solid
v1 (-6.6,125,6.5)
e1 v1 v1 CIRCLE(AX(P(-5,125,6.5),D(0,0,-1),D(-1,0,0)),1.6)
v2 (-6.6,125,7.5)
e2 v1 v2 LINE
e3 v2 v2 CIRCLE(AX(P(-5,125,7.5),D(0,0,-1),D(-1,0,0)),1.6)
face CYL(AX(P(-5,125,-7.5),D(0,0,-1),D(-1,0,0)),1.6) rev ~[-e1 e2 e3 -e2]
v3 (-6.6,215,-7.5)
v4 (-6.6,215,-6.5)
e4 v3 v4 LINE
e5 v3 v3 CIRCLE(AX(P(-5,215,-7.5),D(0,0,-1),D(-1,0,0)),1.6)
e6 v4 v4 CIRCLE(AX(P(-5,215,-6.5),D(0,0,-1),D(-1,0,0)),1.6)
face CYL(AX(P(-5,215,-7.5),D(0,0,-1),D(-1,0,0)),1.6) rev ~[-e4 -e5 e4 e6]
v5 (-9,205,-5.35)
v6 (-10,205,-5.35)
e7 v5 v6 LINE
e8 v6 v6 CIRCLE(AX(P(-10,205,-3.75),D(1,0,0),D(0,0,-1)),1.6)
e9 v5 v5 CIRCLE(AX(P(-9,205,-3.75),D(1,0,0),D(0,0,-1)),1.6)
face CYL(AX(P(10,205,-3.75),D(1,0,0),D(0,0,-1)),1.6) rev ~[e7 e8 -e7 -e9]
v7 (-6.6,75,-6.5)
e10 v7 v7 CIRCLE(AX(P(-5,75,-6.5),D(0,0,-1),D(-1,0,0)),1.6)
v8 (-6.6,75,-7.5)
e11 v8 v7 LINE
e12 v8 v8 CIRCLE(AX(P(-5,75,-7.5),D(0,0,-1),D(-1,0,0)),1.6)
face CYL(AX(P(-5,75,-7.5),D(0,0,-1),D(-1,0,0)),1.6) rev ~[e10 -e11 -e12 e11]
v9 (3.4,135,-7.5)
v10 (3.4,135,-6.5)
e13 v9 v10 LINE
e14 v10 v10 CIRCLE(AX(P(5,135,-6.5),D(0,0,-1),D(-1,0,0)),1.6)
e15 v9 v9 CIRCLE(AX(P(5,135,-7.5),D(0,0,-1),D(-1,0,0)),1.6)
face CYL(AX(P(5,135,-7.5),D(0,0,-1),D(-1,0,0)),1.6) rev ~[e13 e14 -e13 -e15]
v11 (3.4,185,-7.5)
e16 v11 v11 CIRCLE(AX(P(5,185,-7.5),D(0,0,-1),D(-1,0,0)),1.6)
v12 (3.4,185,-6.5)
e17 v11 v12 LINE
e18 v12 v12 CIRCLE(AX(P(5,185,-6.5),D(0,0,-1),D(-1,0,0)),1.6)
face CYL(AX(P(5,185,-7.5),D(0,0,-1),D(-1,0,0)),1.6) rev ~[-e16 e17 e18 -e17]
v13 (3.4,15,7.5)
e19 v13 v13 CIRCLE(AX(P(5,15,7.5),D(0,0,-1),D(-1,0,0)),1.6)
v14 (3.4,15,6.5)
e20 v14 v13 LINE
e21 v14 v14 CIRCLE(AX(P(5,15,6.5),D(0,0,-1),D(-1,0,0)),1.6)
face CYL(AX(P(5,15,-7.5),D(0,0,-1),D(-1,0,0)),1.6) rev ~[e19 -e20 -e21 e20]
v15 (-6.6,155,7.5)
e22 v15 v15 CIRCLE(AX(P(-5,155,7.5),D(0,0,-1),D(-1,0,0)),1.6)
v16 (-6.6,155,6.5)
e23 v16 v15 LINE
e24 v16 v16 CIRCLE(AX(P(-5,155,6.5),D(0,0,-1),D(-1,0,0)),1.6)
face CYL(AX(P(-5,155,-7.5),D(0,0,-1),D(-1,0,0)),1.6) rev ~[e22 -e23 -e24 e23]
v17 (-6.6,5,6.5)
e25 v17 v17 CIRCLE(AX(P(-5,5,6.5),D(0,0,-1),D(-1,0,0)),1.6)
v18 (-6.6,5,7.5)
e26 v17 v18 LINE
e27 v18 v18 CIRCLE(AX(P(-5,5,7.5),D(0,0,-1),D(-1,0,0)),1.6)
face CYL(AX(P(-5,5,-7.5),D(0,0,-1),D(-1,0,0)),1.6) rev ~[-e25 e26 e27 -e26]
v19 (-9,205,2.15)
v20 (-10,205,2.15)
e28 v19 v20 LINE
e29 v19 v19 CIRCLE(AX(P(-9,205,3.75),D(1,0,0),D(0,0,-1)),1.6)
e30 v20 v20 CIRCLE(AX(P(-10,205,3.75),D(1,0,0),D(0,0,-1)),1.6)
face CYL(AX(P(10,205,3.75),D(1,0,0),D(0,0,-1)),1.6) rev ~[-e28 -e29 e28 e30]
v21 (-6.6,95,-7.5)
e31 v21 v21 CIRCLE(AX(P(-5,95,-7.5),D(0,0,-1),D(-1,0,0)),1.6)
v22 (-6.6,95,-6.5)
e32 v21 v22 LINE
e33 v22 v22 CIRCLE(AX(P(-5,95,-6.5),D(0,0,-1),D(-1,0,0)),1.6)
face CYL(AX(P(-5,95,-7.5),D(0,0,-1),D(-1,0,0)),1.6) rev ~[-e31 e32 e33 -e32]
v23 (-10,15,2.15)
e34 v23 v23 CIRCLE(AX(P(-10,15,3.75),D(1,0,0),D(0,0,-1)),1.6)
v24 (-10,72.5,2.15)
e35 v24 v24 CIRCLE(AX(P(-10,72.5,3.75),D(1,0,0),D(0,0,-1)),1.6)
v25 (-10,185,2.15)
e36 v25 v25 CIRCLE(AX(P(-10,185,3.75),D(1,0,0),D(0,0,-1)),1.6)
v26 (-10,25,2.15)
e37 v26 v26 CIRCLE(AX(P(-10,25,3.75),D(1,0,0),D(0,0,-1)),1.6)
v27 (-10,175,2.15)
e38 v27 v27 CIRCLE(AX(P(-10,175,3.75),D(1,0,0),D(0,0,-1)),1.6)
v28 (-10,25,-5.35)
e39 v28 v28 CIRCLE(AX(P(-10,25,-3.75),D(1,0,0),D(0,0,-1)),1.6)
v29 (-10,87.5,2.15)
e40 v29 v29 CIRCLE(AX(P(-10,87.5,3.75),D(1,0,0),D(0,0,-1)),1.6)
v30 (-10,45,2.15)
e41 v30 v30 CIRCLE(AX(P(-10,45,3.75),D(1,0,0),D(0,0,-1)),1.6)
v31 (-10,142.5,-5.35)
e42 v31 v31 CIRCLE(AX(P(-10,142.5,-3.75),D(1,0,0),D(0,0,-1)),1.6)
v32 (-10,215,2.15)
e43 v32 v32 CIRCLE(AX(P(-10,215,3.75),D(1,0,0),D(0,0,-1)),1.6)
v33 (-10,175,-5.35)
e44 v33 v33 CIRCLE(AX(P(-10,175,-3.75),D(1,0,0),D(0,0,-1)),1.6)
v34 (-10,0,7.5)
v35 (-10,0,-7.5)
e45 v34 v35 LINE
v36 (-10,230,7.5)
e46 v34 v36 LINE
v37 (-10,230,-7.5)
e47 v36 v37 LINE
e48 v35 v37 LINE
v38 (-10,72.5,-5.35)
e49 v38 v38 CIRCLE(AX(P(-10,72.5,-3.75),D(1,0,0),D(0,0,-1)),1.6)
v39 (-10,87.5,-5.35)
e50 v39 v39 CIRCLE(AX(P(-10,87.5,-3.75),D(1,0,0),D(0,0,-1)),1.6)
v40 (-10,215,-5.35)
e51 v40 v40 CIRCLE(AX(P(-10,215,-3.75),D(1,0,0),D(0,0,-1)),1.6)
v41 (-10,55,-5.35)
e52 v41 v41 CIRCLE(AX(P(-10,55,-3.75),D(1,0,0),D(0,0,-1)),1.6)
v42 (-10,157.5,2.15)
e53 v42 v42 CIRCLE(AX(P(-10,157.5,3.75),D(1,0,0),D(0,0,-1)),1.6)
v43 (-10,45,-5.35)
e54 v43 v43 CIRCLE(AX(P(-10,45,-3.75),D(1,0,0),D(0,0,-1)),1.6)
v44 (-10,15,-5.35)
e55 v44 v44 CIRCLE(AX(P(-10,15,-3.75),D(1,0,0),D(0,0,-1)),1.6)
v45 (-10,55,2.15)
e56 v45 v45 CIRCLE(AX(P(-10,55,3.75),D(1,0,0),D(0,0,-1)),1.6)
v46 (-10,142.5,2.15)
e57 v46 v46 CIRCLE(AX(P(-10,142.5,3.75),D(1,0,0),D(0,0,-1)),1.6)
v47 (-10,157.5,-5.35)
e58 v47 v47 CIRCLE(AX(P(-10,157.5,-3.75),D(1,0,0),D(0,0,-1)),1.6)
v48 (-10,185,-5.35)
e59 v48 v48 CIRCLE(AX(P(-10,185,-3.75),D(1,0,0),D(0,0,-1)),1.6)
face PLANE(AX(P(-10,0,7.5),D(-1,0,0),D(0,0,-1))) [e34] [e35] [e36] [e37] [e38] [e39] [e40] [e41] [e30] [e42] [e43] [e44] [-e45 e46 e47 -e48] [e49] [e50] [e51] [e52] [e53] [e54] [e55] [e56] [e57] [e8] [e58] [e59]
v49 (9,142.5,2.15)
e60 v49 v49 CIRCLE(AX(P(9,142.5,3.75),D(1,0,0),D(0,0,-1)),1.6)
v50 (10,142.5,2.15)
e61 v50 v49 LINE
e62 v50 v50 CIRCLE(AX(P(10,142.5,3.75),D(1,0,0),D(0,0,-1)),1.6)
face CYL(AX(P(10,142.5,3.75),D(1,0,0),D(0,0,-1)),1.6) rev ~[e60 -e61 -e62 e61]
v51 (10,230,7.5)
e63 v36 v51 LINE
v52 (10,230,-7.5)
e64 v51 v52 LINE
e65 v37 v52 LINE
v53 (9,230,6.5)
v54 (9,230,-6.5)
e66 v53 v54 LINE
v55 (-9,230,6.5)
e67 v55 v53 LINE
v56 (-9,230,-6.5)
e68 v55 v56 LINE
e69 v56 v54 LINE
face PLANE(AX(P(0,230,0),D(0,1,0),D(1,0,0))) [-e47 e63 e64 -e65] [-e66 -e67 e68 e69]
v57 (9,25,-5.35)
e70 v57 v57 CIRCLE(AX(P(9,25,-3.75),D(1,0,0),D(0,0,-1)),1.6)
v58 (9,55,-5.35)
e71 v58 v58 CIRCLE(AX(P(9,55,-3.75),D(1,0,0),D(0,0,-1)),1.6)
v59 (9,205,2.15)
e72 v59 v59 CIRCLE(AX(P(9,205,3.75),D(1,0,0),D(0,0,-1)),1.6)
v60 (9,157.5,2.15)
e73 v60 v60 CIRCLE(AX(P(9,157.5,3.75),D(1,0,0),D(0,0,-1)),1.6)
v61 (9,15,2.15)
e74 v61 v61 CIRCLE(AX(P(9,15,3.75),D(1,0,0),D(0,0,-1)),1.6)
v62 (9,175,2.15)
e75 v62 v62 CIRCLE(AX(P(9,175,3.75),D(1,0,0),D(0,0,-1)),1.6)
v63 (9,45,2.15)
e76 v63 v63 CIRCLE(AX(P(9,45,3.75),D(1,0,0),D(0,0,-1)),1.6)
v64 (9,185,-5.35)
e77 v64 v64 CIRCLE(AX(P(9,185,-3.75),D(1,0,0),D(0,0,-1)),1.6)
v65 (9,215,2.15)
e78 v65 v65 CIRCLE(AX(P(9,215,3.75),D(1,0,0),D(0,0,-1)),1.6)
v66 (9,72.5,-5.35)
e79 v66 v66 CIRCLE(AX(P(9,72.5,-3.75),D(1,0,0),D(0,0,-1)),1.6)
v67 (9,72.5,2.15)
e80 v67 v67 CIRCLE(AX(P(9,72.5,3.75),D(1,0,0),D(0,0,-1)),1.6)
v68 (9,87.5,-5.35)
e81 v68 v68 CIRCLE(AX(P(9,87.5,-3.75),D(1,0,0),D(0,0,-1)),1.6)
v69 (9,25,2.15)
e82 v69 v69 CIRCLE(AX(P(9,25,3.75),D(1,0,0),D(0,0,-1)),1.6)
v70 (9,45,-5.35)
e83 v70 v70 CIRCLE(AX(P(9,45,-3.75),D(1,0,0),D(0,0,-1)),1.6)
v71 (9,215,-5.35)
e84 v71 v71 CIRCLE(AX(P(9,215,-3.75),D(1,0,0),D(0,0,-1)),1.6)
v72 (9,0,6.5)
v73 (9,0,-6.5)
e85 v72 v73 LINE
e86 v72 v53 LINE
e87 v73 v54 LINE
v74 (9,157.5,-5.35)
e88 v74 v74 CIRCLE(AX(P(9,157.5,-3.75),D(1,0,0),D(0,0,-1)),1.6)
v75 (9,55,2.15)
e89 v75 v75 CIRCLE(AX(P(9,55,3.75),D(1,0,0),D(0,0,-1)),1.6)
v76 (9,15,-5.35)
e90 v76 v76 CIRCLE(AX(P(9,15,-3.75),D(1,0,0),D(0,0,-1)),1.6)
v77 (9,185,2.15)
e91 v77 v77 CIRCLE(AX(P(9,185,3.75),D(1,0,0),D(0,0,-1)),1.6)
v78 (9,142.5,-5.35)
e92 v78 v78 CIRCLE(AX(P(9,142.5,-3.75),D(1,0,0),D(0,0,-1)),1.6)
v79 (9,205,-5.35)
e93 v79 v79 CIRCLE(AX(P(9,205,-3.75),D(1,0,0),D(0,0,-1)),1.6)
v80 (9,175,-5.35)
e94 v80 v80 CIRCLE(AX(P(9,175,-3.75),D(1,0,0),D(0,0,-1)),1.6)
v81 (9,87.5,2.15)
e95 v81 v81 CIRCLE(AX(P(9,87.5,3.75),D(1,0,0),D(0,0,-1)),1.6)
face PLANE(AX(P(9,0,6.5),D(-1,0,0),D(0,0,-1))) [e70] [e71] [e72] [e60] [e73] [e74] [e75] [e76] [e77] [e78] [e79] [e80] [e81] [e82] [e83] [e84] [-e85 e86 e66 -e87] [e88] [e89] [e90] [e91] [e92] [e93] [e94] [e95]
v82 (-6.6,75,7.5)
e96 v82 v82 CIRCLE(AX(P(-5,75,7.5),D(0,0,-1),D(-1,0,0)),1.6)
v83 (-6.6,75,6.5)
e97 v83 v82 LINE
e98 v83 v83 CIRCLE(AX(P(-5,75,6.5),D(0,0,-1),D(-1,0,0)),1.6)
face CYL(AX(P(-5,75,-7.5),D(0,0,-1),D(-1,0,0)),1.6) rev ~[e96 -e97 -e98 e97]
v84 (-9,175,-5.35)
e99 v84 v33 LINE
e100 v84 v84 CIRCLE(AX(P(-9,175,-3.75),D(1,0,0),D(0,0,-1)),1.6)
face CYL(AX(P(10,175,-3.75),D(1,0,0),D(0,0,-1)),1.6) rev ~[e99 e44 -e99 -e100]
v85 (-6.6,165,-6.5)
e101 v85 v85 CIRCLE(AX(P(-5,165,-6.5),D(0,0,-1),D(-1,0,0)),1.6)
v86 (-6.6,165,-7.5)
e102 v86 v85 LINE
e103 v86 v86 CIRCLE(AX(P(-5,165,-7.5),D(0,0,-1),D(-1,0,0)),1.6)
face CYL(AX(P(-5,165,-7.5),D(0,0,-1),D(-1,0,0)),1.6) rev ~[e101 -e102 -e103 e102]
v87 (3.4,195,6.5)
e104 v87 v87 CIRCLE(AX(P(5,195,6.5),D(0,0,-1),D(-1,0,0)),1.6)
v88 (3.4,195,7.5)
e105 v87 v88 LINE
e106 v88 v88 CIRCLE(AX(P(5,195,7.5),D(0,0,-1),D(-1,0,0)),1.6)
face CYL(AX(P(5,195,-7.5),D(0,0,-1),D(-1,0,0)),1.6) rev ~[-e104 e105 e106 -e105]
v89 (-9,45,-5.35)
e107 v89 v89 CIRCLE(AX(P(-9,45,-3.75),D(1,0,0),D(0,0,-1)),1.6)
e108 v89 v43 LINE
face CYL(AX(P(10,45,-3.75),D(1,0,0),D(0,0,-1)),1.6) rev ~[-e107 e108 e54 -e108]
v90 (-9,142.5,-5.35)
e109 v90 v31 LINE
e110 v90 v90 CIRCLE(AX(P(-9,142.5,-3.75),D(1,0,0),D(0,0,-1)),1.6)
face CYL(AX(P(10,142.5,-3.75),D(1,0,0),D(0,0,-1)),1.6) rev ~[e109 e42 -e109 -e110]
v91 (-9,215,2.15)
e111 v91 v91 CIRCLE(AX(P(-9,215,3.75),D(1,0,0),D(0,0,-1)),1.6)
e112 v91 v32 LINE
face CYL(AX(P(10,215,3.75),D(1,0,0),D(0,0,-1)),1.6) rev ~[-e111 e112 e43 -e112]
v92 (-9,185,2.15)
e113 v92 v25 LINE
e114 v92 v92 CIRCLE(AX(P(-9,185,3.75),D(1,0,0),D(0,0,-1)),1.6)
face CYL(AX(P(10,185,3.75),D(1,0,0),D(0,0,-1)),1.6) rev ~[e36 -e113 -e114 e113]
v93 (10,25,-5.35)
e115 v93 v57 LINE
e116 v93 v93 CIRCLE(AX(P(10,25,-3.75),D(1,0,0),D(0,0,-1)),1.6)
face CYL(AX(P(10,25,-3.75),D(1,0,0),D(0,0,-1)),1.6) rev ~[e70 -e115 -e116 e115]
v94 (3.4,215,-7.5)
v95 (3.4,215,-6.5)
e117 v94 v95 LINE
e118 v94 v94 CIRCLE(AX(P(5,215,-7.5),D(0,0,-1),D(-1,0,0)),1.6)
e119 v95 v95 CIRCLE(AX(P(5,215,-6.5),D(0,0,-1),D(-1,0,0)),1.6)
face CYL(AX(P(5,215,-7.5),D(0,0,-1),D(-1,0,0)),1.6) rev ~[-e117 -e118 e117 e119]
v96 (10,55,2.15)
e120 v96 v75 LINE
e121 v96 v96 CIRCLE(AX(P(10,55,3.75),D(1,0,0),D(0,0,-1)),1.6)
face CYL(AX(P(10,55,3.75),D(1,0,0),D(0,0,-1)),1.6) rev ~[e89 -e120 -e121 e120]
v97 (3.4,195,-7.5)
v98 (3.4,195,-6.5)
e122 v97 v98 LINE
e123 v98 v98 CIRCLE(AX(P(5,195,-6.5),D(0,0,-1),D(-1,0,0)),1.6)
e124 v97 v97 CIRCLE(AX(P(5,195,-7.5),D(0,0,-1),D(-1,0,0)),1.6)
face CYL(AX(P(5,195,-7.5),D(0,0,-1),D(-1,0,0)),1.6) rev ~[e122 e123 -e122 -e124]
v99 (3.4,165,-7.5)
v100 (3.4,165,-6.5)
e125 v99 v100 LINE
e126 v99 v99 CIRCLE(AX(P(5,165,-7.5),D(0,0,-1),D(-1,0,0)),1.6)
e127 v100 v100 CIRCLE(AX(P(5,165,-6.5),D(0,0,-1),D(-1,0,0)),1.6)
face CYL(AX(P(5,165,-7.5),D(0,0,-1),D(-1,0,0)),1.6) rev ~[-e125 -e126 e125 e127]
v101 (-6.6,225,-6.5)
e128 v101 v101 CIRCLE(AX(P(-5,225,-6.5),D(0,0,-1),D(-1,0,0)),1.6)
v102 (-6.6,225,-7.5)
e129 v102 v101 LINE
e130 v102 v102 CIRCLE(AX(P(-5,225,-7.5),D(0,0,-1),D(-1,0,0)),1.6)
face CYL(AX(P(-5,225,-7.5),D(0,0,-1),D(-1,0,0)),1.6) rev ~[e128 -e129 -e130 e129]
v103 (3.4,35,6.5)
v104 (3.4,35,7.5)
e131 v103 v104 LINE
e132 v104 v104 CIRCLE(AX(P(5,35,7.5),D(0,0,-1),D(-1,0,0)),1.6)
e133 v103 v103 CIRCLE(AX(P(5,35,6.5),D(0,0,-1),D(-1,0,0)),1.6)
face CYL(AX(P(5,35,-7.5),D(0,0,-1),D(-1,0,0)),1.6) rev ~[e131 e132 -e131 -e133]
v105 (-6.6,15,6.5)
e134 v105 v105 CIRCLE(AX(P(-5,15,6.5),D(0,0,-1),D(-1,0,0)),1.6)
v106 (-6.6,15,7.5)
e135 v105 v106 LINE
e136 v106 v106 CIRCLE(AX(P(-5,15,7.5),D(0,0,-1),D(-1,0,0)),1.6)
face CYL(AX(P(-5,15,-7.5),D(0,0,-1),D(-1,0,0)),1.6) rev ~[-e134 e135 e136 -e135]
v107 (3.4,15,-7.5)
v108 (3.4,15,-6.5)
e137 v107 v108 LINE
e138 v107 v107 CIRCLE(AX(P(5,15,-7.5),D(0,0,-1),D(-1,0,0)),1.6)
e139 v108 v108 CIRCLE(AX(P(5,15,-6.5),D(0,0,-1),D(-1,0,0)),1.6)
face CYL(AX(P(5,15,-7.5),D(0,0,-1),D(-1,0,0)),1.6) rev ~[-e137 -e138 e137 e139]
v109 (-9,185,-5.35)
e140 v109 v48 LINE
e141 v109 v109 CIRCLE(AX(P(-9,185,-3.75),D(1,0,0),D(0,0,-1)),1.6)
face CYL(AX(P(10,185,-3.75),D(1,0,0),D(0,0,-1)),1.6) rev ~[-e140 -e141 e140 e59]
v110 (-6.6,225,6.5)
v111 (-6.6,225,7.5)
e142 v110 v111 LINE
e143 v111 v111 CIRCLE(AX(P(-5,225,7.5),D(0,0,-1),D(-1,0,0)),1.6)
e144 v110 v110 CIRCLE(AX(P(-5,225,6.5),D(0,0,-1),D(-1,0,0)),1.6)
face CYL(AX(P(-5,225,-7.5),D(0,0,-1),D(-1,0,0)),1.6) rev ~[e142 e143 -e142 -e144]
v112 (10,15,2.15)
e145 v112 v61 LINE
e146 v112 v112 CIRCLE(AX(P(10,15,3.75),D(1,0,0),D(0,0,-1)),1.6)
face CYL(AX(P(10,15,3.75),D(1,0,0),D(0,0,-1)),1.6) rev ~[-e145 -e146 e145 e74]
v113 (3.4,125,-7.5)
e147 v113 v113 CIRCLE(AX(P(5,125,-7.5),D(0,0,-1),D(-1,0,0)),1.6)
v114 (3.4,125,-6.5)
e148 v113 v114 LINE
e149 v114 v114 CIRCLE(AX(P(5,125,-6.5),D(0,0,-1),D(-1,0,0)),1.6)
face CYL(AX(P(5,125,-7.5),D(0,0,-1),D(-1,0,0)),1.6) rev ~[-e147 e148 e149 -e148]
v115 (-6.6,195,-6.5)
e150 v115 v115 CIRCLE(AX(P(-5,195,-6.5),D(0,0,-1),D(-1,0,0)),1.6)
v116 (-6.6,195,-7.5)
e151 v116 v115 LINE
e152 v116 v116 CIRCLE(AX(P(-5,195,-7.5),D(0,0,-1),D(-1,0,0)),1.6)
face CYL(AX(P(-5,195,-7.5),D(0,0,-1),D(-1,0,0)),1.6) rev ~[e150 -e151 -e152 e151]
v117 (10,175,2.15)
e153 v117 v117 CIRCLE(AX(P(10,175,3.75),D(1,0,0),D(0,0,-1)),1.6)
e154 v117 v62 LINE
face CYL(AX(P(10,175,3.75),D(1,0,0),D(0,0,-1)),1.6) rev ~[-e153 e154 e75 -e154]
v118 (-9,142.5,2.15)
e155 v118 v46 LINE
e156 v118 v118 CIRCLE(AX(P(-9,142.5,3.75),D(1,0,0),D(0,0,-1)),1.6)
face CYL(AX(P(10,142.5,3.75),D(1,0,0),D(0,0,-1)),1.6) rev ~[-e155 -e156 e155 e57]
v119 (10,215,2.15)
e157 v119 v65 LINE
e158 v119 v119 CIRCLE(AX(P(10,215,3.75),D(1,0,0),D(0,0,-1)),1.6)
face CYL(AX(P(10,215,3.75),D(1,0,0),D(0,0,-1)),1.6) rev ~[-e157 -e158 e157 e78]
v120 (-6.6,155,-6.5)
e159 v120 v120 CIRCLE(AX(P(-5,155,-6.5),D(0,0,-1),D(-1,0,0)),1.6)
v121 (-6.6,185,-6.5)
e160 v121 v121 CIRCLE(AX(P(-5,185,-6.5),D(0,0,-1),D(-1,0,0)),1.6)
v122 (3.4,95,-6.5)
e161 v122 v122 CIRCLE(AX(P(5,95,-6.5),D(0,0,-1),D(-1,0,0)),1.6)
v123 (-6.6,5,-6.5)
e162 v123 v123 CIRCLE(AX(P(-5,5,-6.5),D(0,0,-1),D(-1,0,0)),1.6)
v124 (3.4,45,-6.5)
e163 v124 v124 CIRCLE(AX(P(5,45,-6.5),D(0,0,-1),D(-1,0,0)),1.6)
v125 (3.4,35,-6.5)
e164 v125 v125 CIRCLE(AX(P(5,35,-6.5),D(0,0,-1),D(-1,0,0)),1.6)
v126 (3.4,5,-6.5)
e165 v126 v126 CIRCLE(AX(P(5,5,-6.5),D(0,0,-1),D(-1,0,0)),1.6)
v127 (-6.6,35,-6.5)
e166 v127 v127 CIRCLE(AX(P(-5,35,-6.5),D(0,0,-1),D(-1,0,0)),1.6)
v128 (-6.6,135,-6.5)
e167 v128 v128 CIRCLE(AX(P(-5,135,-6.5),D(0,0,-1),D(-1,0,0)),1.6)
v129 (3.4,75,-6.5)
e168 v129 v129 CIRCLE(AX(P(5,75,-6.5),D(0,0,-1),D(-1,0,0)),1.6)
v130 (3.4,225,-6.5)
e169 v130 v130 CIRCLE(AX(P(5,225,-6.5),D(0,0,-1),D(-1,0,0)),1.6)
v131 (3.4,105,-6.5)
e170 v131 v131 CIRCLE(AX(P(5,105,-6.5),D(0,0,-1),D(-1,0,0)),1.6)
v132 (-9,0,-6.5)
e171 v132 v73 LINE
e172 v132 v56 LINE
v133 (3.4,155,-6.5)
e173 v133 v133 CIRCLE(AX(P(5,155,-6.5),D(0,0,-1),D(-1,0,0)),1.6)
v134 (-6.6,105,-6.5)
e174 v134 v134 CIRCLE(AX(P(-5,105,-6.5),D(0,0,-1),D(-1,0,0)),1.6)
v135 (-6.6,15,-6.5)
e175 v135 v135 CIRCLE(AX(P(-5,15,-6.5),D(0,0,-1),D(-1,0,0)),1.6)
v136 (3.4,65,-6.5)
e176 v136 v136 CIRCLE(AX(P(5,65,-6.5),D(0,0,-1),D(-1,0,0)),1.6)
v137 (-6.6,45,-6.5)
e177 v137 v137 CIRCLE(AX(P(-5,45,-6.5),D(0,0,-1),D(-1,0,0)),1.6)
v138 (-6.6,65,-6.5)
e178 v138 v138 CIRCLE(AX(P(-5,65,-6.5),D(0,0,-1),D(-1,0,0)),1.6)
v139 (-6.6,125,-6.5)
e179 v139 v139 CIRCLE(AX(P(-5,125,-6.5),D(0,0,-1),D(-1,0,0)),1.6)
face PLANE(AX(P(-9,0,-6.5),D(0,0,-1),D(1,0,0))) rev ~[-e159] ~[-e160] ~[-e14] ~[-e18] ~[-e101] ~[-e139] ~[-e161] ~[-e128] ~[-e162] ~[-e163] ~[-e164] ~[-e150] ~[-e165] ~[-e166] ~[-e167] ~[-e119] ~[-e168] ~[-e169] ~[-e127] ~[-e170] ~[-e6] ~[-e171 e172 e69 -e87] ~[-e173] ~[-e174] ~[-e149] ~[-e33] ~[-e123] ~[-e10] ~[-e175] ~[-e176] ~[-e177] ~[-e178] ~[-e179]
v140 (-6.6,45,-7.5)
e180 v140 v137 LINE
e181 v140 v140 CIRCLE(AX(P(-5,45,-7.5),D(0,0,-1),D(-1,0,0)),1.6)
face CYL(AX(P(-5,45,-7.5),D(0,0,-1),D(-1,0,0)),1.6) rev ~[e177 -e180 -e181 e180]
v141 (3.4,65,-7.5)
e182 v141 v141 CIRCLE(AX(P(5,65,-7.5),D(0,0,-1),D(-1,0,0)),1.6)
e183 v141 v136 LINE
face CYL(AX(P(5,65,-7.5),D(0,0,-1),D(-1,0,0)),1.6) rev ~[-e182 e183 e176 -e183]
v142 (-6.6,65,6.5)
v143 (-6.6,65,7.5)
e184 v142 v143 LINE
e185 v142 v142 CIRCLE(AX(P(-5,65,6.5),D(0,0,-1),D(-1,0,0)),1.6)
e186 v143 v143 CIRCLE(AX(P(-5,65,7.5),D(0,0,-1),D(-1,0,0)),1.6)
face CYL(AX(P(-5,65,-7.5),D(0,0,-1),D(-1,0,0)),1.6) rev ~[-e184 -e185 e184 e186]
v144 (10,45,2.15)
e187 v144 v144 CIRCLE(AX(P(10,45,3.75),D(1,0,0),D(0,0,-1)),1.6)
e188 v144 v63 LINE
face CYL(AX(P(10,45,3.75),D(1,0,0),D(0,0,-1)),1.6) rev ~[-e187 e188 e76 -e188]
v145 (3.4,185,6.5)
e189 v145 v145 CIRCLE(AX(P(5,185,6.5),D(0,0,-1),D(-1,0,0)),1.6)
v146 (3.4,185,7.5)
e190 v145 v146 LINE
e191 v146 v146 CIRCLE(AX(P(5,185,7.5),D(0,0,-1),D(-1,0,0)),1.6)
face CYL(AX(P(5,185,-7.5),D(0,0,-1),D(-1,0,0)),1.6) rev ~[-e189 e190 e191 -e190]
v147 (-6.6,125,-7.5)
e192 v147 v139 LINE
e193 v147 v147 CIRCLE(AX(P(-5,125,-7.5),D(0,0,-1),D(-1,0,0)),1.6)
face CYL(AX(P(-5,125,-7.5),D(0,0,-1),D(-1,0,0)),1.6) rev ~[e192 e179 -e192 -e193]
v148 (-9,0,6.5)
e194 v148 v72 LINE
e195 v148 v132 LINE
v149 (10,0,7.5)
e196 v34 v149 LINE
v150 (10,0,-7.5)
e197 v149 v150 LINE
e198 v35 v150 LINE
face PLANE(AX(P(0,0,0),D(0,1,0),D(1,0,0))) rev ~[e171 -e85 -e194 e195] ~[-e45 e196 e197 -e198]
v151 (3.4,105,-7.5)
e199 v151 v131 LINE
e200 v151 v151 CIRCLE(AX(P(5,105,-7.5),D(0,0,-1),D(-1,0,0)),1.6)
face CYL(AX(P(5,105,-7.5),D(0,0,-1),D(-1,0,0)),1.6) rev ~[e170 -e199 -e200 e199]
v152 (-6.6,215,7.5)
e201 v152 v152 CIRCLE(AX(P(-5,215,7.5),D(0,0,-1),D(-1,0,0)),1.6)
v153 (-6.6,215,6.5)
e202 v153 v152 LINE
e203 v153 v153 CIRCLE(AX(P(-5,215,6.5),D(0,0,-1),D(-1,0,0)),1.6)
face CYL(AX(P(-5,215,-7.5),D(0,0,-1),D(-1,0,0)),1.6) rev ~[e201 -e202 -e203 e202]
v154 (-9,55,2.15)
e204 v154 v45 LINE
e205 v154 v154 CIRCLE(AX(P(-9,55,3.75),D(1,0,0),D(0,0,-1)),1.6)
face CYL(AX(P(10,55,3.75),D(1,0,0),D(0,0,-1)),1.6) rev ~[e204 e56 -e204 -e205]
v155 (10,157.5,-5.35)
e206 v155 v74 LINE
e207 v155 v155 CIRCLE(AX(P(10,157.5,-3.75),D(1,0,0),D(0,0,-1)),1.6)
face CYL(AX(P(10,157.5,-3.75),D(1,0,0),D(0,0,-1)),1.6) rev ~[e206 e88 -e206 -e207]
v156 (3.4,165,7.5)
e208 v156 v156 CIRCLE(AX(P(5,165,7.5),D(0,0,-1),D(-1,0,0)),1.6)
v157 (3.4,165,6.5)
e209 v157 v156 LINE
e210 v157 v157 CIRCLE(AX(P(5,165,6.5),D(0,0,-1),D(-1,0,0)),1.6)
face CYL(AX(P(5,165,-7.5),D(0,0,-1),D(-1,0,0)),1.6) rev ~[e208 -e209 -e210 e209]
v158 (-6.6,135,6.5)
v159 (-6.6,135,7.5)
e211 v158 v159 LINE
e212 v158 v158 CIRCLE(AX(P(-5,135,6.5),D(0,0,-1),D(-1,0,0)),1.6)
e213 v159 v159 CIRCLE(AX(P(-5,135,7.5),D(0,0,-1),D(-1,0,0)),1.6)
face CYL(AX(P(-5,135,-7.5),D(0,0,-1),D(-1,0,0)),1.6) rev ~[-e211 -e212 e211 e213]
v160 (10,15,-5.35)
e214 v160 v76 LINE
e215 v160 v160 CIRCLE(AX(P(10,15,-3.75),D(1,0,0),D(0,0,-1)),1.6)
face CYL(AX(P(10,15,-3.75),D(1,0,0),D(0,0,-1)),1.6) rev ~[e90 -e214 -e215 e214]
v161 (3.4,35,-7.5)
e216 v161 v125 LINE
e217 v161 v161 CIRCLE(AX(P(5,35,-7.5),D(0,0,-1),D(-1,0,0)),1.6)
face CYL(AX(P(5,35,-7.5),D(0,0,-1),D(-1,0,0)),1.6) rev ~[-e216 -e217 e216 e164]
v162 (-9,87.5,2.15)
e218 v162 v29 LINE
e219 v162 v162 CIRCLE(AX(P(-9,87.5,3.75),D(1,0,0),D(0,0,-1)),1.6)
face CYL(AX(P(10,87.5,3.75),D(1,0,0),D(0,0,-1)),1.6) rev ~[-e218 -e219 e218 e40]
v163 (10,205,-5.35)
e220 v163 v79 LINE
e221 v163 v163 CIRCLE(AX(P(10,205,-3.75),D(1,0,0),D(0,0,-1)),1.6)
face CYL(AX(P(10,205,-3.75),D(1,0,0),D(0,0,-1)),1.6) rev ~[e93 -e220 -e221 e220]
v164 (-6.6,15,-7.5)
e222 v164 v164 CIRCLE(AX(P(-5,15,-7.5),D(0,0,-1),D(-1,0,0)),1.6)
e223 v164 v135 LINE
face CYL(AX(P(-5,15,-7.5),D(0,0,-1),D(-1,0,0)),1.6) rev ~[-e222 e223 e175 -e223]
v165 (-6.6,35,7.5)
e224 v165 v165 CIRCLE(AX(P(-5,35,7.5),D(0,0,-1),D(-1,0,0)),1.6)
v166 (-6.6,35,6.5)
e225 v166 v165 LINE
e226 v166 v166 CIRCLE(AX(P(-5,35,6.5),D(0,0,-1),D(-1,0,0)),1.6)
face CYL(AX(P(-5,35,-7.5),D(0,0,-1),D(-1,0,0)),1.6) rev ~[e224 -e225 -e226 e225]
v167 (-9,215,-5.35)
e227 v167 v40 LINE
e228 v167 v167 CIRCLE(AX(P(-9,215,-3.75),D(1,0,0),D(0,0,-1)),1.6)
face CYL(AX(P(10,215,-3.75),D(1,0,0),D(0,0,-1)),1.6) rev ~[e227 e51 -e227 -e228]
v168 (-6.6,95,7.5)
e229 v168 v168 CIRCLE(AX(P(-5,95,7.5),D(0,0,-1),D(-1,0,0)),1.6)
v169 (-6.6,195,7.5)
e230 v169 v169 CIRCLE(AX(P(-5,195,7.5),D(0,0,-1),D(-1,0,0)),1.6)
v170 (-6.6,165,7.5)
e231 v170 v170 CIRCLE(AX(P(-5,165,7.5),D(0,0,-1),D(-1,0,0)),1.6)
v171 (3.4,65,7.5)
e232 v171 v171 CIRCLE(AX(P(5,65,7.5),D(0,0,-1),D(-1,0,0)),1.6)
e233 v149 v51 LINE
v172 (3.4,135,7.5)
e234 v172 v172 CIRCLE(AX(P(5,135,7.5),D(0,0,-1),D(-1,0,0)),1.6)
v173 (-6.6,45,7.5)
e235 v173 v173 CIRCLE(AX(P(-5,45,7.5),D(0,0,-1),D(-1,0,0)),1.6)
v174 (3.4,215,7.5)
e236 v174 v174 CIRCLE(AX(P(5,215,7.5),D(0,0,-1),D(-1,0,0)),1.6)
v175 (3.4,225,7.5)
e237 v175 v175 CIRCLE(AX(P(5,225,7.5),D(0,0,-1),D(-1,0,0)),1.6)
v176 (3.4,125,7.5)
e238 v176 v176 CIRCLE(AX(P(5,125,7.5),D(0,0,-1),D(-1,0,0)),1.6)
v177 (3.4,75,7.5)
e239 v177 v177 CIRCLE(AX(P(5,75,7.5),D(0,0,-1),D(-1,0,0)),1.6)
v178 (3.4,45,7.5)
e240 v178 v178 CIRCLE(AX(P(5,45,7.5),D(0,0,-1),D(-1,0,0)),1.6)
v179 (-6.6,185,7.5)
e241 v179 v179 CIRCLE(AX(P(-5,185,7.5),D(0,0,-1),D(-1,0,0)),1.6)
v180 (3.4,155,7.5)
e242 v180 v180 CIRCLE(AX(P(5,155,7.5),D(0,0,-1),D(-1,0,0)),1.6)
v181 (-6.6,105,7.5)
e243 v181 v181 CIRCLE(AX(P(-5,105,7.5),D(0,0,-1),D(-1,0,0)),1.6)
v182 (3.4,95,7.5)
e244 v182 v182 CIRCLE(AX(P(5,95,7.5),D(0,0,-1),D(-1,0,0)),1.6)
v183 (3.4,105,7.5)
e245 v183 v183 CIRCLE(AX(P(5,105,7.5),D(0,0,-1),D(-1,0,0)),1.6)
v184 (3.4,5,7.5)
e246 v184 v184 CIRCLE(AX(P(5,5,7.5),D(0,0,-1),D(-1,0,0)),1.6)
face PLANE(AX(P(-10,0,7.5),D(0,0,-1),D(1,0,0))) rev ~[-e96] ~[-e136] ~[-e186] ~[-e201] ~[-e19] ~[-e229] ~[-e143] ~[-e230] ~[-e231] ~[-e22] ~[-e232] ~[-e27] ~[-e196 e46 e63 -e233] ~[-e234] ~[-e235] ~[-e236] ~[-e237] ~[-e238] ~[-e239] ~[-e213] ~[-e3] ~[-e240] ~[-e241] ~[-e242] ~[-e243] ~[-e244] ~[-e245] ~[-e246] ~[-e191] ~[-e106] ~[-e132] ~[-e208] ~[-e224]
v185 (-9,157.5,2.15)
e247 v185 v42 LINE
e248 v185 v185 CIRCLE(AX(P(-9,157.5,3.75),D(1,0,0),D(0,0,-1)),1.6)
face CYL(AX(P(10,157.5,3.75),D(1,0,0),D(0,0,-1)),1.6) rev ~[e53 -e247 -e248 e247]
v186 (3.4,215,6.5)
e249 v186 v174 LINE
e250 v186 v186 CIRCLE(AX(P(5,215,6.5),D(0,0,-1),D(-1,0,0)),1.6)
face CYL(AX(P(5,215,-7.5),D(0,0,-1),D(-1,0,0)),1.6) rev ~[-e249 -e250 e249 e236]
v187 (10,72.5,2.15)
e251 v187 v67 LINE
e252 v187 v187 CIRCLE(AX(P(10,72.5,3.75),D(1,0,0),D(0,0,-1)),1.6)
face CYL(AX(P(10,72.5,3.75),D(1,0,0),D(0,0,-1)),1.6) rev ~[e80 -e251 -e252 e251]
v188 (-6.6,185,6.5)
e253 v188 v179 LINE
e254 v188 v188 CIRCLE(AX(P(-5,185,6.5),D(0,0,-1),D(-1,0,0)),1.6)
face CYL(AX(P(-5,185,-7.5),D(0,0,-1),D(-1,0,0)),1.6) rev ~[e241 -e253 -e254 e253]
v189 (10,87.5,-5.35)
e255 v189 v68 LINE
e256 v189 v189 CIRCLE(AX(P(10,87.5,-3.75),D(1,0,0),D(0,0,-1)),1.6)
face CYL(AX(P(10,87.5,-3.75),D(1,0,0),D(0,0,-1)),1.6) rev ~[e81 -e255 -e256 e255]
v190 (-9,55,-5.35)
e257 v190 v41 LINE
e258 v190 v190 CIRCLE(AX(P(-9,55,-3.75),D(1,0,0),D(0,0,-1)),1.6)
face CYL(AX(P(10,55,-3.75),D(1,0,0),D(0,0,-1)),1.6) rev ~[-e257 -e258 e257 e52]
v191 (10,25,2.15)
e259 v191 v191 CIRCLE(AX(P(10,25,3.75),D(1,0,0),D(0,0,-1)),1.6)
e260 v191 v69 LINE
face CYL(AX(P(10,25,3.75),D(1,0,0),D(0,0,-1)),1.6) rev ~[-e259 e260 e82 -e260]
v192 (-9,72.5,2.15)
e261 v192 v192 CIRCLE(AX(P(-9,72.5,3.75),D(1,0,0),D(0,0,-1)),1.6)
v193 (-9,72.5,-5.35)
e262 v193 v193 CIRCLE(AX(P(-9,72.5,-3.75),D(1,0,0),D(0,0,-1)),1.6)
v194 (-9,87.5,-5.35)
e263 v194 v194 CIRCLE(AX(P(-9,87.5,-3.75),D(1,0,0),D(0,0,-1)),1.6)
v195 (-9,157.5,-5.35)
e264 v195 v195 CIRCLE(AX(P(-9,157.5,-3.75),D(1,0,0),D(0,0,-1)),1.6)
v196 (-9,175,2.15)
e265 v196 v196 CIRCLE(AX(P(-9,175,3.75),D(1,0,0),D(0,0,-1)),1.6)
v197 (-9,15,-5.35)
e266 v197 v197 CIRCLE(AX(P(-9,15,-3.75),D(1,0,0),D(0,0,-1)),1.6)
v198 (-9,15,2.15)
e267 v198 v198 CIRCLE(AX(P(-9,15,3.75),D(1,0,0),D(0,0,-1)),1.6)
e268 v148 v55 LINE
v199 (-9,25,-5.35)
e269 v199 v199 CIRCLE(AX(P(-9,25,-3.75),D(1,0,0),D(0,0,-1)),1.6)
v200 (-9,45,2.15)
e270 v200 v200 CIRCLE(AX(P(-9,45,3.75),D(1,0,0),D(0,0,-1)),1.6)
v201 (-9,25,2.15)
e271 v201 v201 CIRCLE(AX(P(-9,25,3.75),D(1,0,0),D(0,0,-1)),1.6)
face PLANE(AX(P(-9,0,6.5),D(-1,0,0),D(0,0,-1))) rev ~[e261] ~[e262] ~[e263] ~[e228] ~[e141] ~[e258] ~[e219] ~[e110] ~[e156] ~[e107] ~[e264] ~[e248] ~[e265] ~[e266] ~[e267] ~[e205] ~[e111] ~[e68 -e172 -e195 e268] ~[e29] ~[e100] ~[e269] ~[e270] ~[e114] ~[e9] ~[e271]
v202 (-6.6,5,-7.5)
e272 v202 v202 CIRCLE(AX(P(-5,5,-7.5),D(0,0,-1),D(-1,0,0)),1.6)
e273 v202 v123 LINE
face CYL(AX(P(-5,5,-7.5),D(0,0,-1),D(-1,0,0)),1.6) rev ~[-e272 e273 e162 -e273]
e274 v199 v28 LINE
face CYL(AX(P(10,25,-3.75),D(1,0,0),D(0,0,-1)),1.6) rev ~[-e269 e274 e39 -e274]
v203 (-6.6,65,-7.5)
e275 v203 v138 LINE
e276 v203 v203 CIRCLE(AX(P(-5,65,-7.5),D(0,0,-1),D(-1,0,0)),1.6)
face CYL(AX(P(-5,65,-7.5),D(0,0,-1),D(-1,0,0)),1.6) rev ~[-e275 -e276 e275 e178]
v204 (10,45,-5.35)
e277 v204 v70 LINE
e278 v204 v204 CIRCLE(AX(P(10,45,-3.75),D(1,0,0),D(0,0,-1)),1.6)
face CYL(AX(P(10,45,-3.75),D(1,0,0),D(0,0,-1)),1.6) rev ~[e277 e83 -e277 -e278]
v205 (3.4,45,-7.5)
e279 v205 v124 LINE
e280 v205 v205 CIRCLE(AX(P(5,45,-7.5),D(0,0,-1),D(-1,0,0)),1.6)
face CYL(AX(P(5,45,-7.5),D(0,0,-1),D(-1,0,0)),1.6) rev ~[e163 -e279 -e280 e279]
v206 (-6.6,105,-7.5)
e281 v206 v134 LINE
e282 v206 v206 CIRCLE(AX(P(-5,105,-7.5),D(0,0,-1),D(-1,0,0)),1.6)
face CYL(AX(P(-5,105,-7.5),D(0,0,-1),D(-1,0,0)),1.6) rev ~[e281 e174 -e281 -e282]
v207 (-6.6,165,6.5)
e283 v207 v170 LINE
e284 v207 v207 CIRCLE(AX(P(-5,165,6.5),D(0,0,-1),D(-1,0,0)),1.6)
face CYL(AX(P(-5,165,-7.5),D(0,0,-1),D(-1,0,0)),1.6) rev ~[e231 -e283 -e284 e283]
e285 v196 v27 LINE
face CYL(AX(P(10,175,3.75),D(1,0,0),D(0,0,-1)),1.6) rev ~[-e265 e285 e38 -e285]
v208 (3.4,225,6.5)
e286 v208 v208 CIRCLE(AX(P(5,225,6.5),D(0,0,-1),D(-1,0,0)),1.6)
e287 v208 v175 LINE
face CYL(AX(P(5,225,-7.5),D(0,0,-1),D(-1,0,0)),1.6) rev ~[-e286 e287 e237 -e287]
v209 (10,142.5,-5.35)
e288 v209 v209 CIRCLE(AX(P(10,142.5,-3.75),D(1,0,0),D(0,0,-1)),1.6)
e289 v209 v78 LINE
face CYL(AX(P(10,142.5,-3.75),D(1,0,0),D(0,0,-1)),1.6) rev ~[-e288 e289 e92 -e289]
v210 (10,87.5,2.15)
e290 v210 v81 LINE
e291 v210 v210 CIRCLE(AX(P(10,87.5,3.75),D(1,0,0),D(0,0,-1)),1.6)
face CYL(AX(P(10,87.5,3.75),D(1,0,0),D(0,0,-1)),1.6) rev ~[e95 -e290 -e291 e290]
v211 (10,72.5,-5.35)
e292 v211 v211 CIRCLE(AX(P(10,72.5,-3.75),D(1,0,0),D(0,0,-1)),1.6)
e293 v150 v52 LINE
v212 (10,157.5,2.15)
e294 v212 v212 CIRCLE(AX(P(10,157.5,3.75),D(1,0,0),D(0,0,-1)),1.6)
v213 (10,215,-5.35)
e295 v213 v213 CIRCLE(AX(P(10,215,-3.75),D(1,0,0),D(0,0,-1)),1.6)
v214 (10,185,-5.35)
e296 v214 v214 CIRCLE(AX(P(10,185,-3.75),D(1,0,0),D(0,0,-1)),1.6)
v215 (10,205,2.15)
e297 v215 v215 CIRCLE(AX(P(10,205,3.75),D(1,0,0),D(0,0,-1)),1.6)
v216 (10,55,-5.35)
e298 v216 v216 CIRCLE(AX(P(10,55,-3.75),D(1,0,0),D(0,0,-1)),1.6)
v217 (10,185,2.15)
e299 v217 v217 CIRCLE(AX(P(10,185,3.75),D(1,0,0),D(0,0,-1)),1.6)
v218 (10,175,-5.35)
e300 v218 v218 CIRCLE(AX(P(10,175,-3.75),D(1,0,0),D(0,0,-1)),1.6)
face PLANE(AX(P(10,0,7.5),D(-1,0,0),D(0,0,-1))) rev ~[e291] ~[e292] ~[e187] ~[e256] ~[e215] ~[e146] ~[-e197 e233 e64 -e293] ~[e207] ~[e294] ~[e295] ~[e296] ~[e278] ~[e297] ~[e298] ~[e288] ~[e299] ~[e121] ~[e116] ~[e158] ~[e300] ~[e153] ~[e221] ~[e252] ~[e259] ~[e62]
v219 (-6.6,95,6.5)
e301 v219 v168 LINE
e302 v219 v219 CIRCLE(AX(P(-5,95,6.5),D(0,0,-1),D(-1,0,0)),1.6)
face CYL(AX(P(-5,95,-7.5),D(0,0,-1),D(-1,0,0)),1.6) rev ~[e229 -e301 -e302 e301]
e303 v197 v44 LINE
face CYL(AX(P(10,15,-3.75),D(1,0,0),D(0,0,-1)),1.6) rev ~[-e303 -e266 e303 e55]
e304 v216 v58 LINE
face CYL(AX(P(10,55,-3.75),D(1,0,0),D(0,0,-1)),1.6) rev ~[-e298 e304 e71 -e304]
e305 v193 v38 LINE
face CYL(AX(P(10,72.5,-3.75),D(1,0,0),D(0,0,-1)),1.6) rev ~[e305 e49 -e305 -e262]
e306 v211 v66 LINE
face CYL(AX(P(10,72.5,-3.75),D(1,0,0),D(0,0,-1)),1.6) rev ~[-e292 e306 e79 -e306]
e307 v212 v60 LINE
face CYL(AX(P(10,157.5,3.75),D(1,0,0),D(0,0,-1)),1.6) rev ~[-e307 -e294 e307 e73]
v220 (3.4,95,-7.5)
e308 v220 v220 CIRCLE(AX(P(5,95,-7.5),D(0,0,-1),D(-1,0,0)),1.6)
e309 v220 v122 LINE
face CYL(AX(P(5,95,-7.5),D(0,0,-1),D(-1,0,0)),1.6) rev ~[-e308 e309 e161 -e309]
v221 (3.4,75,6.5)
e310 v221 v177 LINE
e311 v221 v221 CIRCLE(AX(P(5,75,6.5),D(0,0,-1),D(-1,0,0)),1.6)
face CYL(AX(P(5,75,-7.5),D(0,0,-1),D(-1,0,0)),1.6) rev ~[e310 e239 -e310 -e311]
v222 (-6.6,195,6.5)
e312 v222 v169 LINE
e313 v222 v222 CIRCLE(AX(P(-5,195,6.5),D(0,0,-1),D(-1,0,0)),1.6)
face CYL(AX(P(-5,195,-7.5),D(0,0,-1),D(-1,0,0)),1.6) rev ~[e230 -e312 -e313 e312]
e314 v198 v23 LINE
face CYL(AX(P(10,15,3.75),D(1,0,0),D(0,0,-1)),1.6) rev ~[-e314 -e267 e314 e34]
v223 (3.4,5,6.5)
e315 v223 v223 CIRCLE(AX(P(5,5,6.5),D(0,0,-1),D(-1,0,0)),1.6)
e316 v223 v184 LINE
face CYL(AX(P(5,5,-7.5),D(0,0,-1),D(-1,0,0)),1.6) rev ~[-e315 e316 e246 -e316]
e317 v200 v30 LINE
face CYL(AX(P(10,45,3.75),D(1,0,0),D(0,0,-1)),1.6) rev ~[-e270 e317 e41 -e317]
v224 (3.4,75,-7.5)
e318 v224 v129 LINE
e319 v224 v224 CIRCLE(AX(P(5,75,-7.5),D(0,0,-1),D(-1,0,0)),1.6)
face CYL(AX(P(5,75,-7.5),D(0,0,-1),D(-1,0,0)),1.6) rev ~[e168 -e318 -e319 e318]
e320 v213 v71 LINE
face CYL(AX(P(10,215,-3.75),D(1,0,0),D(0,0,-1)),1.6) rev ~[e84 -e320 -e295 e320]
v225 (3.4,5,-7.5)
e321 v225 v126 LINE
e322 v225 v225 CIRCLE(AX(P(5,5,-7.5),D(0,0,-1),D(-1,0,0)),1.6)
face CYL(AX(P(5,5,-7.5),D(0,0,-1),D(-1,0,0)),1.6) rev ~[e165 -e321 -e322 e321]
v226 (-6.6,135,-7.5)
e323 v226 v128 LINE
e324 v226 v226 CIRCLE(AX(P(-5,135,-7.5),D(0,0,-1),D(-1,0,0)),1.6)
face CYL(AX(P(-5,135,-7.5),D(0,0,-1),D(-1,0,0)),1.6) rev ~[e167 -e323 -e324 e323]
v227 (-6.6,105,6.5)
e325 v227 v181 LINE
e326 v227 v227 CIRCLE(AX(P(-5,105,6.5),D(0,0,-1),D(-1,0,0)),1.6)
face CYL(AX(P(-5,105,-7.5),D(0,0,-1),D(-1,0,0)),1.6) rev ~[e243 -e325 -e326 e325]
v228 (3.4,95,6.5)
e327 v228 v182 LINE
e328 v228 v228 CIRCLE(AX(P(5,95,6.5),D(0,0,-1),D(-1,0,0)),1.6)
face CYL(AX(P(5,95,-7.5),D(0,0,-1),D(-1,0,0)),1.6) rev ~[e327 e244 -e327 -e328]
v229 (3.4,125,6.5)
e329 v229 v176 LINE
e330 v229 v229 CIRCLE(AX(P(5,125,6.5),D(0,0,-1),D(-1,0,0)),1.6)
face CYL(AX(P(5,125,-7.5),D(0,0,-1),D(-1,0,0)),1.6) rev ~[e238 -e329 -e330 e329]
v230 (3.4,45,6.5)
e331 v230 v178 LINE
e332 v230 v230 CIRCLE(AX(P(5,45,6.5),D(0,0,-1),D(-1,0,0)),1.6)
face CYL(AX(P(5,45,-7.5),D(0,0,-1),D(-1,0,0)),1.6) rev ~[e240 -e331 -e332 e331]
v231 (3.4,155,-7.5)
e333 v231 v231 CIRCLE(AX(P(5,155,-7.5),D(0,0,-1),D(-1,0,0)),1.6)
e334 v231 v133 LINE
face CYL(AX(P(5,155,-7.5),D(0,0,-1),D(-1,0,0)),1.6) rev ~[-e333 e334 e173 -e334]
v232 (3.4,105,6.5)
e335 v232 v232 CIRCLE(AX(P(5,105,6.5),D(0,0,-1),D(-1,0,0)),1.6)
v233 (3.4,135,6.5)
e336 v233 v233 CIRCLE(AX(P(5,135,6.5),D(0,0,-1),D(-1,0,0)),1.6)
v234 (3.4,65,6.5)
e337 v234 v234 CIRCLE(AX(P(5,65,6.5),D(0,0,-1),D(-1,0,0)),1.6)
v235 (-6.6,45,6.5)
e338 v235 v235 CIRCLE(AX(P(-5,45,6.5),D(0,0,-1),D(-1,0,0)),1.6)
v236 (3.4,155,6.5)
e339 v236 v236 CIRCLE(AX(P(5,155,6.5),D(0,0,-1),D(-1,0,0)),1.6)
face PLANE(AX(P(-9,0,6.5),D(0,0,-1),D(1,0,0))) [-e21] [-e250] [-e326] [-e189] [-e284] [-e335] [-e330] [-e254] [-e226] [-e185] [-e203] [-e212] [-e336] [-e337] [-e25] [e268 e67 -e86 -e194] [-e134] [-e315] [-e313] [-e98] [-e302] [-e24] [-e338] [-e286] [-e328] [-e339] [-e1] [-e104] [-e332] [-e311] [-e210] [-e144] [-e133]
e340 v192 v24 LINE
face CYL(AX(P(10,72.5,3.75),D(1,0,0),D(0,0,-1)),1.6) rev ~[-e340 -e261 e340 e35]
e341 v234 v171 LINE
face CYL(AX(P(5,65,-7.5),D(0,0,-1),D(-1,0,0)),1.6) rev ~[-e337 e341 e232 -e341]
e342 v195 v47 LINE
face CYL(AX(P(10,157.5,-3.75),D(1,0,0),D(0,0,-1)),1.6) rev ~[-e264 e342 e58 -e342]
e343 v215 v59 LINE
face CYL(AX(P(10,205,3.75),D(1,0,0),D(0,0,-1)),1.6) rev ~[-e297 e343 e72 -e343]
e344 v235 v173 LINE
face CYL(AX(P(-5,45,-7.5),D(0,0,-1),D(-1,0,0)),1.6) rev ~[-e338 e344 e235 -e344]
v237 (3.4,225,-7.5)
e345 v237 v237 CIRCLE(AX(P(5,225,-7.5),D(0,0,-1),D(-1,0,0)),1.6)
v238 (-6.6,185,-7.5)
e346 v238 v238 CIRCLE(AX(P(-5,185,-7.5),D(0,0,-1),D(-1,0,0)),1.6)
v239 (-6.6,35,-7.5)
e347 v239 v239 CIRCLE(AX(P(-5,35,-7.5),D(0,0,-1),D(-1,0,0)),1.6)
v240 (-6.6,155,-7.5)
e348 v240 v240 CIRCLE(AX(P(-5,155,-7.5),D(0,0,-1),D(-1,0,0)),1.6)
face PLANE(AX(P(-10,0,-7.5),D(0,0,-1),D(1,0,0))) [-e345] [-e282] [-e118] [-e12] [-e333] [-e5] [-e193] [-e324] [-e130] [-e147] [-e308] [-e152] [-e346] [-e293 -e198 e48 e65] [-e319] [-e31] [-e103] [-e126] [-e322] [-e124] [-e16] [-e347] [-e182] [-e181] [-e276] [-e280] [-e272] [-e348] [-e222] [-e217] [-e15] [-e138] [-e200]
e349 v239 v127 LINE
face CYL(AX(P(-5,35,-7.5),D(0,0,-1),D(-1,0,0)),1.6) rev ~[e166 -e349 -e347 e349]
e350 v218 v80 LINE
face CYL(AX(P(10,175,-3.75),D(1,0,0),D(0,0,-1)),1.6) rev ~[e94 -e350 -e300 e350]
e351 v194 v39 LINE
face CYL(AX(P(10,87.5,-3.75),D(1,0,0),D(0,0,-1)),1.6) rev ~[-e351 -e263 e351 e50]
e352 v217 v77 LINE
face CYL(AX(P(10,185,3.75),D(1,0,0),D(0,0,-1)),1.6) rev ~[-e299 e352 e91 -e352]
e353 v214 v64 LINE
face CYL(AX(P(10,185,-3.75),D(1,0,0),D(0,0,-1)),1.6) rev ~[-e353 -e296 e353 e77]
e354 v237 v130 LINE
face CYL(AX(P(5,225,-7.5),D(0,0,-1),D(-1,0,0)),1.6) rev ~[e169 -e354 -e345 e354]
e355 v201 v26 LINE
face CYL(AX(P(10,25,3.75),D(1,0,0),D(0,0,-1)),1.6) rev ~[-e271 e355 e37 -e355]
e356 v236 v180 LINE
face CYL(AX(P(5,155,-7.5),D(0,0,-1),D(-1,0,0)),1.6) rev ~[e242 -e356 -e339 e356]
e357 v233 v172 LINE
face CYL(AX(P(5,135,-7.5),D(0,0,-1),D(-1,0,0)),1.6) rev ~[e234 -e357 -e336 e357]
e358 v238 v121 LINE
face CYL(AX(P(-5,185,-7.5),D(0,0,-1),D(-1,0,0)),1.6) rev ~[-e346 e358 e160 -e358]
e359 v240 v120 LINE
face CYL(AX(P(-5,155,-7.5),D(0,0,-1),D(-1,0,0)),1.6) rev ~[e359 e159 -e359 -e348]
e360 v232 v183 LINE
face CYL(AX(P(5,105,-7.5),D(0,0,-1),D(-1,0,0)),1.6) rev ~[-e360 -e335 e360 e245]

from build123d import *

# Parameters (mm, degrees)
SKETCH_1_W          = 20
SKETCH_1_H          = 15
SKETCH_1_W_2        = 18
SKETCH_1_H_2        = 13
EXTRUDE_1_DEPTH     = 230
SKETCH_3_R          = 1.6
CUT_EXTRUDE_1_DEPTH = 231.989718386
SKETCH_4_R          = 1.6
CUT_EXTRUDE_2_DEPTH = 231.705439901


with BuildPart() as part:
    # 草图1 → 拉伸-薄壁1 (new body)
    with BuildSketch(Plane(origin=(0, 0, 0), x_dir=(1, 0, 0), z_dir=(0, 1, 0))):
        Rectangle(SKETCH_1_W, SKETCH_1_H)
        Rectangle(SKETCH_1_W_2, SKETCH_1_H_2, mode=Mode.SUBTRACT)
    extrude(amount=EXTRUDE_1_DEPTH)

    # 草图3 → 切除-拉伸1 (cut, through all)
    with BuildSketch(Plane(origin=(10, 0, 0), x_dir=(0, 0, -1), z_dir=(1, 0, 0))):
        with Locations((-3.75, 157.5)):
            Circle(SKETCH_3_R)
        with Locations((-3.75, 142.5)):
            Circle(SKETCH_3_R)
        with Locations((3.75, 142.5)):
            Circle(SKETCH_3_R)
        with Locations((3.75, 157.5)):
            Circle(SKETCH_3_R)
        with Locations((-3.75, 87.5)):
            Circle(SKETCH_3_R)
        with Locations((3.75, 87.5)):
            Circle(SKETCH_3_R)
        with Locations((3.75, 72.5)):
            Circle(SKETCH_3_R)
        with Locations((-3.75, 72.5)):
            Circle(SKETCH_3_R)
        with Locations((-3.75, 215)):
            Circle(SKETCH_3_R)
        with Locations((3.75, 215)):
            Circle(SKETCH_3_R)
        with Locations((3.75, 205)):
            Circle(SKETCH_3_R)
        with Locations((-3.75, 205)):
            Circle(SKETCH_3_R)
        with Locations((-3.75, 185)):
            Circle(SKETCH_3_R)
        with Locations((3.75, 185)):
            Circle(SKETCH_3_R)
        with Locations((-3.75, 175)):
            Circle(SKETCH_3_R)
        with Locations((3.75, 175)):
            Circle(SKETCH_3_R)
        with Locations((3.75, 55)):
            Circle(SKETCH_3_R)
        with Locations((-3.75, 55)):
            Circle(SKETCH_3_R)
        with Locations((3.75, 45)):
            Circle(SKETCH_3_R)
        with Locations((-3.75, 45)):
            Circle(SKETCH_3_R)
        with Locations((-3.75, 25)):
            Circle(SKETCH_3_R)
        with Locations((3.75, 25)):
            Circle(SKETCH_3_R)
        with Locations((3.75, 15)):
            Circle(SKETCH_3_R)
        with Locations((-3.75, 15)):
            Circle(SKETCH_3_R)
    extrude(amount=-CUT_EXTRUDE_1_DEPTH, mode=Mode.SUBTRACT)

    # 草图4 → 切除-拉伸2 (cut, through all)
    with BuildSketch(Plane(origin=(0, 0, -7.5), x_dir=(-1, 0, 0), z_dir=(0, 0, -1))):
        with Locations((5, 225)):
            Circle(SKETCH_4_R)
        with Locations((-5, 225)):
            Circle(SKETCH_4_R)
        with Locations((5, 215)):
            Circle(SKETCH_4_R)
        with Locations((-5, 215)):
            Circle(SKETCH_4_R)
        with Locations((-5, 195)):
            Circle(SKETCH_4_R)
        with Locations((5, 195)):
            Circle(SKETCH_4_R)
        with Locations((-5, 185)):
            Circle(SKETCH_4_R)
        with Locations((5, 185)):
            Circle(SKETCH_4_R)
        with Locations((-5, 165)):
            Circle(SKETCH_4_R)
        with Locations((5, 165)):
            Circle(SKETCH_4_R)
        with Locations((-5, 155)):
            Circle(SKETCH_4_R)
        with Locations((5, 155)):
            Circle(SKETCH_4_R)
        with Locations((-5, 135)):
            Circle(SKETCH_4_R)
        with Locations((5, 135)):
            Circle(SKETCH_4_R)
        with Locations((-5, 125)):
            Circle(SKETCH_4_R)
        with Locations((5, 125)):
            Circle(SKETCH_4_R)
        with Locations((-5, 105)):
            Circle(SKETCH_4_R)
        with Locations((5, 105)):
            Circle(SKETCH_4_R)
        with Locations((-5, 95)):
            Circle(SKETCH_4_R)
        with Locations((5, 95)):
            Circle(SKETCH_4_R)
        with Locations((-5, 75)):
            Circle(SKETCH_4_R)
        with Locations((5, 75)):
            Circle(SKETCH_4_R)
        with Locations((-5, 65)):
            Circle(SKETCH_4_R)
        with Locations((5, 65)):
            Circle(SKETCH_4_R)
        with Locations((-5, 45)):
            Circle(SKETCH_4_R)
        with Locations((5, 45)):
            Circle(SKETCH_4_R)
        with Locations((-5, 35)):
            Circle(SKETCH_4_R)
        with Locations((5, 35)):
            Circle(SKETCH_4_R)
        with Locations((-5, 15)):
            Circle(SKETCH_4_R)
        with Locations((5, 15)):
            Circle(SKETCH_4_R)
        with Locations((-5, 5)):
            Circle(SKETCH_4_R)
        with Locations((5, 5)):
            Circle(SKETCH_4_R)
    extrude(amount=-CUT_EXTRUDE_2_DEPTH, mode=Mode.SUBTRACT)


solid = part.part
